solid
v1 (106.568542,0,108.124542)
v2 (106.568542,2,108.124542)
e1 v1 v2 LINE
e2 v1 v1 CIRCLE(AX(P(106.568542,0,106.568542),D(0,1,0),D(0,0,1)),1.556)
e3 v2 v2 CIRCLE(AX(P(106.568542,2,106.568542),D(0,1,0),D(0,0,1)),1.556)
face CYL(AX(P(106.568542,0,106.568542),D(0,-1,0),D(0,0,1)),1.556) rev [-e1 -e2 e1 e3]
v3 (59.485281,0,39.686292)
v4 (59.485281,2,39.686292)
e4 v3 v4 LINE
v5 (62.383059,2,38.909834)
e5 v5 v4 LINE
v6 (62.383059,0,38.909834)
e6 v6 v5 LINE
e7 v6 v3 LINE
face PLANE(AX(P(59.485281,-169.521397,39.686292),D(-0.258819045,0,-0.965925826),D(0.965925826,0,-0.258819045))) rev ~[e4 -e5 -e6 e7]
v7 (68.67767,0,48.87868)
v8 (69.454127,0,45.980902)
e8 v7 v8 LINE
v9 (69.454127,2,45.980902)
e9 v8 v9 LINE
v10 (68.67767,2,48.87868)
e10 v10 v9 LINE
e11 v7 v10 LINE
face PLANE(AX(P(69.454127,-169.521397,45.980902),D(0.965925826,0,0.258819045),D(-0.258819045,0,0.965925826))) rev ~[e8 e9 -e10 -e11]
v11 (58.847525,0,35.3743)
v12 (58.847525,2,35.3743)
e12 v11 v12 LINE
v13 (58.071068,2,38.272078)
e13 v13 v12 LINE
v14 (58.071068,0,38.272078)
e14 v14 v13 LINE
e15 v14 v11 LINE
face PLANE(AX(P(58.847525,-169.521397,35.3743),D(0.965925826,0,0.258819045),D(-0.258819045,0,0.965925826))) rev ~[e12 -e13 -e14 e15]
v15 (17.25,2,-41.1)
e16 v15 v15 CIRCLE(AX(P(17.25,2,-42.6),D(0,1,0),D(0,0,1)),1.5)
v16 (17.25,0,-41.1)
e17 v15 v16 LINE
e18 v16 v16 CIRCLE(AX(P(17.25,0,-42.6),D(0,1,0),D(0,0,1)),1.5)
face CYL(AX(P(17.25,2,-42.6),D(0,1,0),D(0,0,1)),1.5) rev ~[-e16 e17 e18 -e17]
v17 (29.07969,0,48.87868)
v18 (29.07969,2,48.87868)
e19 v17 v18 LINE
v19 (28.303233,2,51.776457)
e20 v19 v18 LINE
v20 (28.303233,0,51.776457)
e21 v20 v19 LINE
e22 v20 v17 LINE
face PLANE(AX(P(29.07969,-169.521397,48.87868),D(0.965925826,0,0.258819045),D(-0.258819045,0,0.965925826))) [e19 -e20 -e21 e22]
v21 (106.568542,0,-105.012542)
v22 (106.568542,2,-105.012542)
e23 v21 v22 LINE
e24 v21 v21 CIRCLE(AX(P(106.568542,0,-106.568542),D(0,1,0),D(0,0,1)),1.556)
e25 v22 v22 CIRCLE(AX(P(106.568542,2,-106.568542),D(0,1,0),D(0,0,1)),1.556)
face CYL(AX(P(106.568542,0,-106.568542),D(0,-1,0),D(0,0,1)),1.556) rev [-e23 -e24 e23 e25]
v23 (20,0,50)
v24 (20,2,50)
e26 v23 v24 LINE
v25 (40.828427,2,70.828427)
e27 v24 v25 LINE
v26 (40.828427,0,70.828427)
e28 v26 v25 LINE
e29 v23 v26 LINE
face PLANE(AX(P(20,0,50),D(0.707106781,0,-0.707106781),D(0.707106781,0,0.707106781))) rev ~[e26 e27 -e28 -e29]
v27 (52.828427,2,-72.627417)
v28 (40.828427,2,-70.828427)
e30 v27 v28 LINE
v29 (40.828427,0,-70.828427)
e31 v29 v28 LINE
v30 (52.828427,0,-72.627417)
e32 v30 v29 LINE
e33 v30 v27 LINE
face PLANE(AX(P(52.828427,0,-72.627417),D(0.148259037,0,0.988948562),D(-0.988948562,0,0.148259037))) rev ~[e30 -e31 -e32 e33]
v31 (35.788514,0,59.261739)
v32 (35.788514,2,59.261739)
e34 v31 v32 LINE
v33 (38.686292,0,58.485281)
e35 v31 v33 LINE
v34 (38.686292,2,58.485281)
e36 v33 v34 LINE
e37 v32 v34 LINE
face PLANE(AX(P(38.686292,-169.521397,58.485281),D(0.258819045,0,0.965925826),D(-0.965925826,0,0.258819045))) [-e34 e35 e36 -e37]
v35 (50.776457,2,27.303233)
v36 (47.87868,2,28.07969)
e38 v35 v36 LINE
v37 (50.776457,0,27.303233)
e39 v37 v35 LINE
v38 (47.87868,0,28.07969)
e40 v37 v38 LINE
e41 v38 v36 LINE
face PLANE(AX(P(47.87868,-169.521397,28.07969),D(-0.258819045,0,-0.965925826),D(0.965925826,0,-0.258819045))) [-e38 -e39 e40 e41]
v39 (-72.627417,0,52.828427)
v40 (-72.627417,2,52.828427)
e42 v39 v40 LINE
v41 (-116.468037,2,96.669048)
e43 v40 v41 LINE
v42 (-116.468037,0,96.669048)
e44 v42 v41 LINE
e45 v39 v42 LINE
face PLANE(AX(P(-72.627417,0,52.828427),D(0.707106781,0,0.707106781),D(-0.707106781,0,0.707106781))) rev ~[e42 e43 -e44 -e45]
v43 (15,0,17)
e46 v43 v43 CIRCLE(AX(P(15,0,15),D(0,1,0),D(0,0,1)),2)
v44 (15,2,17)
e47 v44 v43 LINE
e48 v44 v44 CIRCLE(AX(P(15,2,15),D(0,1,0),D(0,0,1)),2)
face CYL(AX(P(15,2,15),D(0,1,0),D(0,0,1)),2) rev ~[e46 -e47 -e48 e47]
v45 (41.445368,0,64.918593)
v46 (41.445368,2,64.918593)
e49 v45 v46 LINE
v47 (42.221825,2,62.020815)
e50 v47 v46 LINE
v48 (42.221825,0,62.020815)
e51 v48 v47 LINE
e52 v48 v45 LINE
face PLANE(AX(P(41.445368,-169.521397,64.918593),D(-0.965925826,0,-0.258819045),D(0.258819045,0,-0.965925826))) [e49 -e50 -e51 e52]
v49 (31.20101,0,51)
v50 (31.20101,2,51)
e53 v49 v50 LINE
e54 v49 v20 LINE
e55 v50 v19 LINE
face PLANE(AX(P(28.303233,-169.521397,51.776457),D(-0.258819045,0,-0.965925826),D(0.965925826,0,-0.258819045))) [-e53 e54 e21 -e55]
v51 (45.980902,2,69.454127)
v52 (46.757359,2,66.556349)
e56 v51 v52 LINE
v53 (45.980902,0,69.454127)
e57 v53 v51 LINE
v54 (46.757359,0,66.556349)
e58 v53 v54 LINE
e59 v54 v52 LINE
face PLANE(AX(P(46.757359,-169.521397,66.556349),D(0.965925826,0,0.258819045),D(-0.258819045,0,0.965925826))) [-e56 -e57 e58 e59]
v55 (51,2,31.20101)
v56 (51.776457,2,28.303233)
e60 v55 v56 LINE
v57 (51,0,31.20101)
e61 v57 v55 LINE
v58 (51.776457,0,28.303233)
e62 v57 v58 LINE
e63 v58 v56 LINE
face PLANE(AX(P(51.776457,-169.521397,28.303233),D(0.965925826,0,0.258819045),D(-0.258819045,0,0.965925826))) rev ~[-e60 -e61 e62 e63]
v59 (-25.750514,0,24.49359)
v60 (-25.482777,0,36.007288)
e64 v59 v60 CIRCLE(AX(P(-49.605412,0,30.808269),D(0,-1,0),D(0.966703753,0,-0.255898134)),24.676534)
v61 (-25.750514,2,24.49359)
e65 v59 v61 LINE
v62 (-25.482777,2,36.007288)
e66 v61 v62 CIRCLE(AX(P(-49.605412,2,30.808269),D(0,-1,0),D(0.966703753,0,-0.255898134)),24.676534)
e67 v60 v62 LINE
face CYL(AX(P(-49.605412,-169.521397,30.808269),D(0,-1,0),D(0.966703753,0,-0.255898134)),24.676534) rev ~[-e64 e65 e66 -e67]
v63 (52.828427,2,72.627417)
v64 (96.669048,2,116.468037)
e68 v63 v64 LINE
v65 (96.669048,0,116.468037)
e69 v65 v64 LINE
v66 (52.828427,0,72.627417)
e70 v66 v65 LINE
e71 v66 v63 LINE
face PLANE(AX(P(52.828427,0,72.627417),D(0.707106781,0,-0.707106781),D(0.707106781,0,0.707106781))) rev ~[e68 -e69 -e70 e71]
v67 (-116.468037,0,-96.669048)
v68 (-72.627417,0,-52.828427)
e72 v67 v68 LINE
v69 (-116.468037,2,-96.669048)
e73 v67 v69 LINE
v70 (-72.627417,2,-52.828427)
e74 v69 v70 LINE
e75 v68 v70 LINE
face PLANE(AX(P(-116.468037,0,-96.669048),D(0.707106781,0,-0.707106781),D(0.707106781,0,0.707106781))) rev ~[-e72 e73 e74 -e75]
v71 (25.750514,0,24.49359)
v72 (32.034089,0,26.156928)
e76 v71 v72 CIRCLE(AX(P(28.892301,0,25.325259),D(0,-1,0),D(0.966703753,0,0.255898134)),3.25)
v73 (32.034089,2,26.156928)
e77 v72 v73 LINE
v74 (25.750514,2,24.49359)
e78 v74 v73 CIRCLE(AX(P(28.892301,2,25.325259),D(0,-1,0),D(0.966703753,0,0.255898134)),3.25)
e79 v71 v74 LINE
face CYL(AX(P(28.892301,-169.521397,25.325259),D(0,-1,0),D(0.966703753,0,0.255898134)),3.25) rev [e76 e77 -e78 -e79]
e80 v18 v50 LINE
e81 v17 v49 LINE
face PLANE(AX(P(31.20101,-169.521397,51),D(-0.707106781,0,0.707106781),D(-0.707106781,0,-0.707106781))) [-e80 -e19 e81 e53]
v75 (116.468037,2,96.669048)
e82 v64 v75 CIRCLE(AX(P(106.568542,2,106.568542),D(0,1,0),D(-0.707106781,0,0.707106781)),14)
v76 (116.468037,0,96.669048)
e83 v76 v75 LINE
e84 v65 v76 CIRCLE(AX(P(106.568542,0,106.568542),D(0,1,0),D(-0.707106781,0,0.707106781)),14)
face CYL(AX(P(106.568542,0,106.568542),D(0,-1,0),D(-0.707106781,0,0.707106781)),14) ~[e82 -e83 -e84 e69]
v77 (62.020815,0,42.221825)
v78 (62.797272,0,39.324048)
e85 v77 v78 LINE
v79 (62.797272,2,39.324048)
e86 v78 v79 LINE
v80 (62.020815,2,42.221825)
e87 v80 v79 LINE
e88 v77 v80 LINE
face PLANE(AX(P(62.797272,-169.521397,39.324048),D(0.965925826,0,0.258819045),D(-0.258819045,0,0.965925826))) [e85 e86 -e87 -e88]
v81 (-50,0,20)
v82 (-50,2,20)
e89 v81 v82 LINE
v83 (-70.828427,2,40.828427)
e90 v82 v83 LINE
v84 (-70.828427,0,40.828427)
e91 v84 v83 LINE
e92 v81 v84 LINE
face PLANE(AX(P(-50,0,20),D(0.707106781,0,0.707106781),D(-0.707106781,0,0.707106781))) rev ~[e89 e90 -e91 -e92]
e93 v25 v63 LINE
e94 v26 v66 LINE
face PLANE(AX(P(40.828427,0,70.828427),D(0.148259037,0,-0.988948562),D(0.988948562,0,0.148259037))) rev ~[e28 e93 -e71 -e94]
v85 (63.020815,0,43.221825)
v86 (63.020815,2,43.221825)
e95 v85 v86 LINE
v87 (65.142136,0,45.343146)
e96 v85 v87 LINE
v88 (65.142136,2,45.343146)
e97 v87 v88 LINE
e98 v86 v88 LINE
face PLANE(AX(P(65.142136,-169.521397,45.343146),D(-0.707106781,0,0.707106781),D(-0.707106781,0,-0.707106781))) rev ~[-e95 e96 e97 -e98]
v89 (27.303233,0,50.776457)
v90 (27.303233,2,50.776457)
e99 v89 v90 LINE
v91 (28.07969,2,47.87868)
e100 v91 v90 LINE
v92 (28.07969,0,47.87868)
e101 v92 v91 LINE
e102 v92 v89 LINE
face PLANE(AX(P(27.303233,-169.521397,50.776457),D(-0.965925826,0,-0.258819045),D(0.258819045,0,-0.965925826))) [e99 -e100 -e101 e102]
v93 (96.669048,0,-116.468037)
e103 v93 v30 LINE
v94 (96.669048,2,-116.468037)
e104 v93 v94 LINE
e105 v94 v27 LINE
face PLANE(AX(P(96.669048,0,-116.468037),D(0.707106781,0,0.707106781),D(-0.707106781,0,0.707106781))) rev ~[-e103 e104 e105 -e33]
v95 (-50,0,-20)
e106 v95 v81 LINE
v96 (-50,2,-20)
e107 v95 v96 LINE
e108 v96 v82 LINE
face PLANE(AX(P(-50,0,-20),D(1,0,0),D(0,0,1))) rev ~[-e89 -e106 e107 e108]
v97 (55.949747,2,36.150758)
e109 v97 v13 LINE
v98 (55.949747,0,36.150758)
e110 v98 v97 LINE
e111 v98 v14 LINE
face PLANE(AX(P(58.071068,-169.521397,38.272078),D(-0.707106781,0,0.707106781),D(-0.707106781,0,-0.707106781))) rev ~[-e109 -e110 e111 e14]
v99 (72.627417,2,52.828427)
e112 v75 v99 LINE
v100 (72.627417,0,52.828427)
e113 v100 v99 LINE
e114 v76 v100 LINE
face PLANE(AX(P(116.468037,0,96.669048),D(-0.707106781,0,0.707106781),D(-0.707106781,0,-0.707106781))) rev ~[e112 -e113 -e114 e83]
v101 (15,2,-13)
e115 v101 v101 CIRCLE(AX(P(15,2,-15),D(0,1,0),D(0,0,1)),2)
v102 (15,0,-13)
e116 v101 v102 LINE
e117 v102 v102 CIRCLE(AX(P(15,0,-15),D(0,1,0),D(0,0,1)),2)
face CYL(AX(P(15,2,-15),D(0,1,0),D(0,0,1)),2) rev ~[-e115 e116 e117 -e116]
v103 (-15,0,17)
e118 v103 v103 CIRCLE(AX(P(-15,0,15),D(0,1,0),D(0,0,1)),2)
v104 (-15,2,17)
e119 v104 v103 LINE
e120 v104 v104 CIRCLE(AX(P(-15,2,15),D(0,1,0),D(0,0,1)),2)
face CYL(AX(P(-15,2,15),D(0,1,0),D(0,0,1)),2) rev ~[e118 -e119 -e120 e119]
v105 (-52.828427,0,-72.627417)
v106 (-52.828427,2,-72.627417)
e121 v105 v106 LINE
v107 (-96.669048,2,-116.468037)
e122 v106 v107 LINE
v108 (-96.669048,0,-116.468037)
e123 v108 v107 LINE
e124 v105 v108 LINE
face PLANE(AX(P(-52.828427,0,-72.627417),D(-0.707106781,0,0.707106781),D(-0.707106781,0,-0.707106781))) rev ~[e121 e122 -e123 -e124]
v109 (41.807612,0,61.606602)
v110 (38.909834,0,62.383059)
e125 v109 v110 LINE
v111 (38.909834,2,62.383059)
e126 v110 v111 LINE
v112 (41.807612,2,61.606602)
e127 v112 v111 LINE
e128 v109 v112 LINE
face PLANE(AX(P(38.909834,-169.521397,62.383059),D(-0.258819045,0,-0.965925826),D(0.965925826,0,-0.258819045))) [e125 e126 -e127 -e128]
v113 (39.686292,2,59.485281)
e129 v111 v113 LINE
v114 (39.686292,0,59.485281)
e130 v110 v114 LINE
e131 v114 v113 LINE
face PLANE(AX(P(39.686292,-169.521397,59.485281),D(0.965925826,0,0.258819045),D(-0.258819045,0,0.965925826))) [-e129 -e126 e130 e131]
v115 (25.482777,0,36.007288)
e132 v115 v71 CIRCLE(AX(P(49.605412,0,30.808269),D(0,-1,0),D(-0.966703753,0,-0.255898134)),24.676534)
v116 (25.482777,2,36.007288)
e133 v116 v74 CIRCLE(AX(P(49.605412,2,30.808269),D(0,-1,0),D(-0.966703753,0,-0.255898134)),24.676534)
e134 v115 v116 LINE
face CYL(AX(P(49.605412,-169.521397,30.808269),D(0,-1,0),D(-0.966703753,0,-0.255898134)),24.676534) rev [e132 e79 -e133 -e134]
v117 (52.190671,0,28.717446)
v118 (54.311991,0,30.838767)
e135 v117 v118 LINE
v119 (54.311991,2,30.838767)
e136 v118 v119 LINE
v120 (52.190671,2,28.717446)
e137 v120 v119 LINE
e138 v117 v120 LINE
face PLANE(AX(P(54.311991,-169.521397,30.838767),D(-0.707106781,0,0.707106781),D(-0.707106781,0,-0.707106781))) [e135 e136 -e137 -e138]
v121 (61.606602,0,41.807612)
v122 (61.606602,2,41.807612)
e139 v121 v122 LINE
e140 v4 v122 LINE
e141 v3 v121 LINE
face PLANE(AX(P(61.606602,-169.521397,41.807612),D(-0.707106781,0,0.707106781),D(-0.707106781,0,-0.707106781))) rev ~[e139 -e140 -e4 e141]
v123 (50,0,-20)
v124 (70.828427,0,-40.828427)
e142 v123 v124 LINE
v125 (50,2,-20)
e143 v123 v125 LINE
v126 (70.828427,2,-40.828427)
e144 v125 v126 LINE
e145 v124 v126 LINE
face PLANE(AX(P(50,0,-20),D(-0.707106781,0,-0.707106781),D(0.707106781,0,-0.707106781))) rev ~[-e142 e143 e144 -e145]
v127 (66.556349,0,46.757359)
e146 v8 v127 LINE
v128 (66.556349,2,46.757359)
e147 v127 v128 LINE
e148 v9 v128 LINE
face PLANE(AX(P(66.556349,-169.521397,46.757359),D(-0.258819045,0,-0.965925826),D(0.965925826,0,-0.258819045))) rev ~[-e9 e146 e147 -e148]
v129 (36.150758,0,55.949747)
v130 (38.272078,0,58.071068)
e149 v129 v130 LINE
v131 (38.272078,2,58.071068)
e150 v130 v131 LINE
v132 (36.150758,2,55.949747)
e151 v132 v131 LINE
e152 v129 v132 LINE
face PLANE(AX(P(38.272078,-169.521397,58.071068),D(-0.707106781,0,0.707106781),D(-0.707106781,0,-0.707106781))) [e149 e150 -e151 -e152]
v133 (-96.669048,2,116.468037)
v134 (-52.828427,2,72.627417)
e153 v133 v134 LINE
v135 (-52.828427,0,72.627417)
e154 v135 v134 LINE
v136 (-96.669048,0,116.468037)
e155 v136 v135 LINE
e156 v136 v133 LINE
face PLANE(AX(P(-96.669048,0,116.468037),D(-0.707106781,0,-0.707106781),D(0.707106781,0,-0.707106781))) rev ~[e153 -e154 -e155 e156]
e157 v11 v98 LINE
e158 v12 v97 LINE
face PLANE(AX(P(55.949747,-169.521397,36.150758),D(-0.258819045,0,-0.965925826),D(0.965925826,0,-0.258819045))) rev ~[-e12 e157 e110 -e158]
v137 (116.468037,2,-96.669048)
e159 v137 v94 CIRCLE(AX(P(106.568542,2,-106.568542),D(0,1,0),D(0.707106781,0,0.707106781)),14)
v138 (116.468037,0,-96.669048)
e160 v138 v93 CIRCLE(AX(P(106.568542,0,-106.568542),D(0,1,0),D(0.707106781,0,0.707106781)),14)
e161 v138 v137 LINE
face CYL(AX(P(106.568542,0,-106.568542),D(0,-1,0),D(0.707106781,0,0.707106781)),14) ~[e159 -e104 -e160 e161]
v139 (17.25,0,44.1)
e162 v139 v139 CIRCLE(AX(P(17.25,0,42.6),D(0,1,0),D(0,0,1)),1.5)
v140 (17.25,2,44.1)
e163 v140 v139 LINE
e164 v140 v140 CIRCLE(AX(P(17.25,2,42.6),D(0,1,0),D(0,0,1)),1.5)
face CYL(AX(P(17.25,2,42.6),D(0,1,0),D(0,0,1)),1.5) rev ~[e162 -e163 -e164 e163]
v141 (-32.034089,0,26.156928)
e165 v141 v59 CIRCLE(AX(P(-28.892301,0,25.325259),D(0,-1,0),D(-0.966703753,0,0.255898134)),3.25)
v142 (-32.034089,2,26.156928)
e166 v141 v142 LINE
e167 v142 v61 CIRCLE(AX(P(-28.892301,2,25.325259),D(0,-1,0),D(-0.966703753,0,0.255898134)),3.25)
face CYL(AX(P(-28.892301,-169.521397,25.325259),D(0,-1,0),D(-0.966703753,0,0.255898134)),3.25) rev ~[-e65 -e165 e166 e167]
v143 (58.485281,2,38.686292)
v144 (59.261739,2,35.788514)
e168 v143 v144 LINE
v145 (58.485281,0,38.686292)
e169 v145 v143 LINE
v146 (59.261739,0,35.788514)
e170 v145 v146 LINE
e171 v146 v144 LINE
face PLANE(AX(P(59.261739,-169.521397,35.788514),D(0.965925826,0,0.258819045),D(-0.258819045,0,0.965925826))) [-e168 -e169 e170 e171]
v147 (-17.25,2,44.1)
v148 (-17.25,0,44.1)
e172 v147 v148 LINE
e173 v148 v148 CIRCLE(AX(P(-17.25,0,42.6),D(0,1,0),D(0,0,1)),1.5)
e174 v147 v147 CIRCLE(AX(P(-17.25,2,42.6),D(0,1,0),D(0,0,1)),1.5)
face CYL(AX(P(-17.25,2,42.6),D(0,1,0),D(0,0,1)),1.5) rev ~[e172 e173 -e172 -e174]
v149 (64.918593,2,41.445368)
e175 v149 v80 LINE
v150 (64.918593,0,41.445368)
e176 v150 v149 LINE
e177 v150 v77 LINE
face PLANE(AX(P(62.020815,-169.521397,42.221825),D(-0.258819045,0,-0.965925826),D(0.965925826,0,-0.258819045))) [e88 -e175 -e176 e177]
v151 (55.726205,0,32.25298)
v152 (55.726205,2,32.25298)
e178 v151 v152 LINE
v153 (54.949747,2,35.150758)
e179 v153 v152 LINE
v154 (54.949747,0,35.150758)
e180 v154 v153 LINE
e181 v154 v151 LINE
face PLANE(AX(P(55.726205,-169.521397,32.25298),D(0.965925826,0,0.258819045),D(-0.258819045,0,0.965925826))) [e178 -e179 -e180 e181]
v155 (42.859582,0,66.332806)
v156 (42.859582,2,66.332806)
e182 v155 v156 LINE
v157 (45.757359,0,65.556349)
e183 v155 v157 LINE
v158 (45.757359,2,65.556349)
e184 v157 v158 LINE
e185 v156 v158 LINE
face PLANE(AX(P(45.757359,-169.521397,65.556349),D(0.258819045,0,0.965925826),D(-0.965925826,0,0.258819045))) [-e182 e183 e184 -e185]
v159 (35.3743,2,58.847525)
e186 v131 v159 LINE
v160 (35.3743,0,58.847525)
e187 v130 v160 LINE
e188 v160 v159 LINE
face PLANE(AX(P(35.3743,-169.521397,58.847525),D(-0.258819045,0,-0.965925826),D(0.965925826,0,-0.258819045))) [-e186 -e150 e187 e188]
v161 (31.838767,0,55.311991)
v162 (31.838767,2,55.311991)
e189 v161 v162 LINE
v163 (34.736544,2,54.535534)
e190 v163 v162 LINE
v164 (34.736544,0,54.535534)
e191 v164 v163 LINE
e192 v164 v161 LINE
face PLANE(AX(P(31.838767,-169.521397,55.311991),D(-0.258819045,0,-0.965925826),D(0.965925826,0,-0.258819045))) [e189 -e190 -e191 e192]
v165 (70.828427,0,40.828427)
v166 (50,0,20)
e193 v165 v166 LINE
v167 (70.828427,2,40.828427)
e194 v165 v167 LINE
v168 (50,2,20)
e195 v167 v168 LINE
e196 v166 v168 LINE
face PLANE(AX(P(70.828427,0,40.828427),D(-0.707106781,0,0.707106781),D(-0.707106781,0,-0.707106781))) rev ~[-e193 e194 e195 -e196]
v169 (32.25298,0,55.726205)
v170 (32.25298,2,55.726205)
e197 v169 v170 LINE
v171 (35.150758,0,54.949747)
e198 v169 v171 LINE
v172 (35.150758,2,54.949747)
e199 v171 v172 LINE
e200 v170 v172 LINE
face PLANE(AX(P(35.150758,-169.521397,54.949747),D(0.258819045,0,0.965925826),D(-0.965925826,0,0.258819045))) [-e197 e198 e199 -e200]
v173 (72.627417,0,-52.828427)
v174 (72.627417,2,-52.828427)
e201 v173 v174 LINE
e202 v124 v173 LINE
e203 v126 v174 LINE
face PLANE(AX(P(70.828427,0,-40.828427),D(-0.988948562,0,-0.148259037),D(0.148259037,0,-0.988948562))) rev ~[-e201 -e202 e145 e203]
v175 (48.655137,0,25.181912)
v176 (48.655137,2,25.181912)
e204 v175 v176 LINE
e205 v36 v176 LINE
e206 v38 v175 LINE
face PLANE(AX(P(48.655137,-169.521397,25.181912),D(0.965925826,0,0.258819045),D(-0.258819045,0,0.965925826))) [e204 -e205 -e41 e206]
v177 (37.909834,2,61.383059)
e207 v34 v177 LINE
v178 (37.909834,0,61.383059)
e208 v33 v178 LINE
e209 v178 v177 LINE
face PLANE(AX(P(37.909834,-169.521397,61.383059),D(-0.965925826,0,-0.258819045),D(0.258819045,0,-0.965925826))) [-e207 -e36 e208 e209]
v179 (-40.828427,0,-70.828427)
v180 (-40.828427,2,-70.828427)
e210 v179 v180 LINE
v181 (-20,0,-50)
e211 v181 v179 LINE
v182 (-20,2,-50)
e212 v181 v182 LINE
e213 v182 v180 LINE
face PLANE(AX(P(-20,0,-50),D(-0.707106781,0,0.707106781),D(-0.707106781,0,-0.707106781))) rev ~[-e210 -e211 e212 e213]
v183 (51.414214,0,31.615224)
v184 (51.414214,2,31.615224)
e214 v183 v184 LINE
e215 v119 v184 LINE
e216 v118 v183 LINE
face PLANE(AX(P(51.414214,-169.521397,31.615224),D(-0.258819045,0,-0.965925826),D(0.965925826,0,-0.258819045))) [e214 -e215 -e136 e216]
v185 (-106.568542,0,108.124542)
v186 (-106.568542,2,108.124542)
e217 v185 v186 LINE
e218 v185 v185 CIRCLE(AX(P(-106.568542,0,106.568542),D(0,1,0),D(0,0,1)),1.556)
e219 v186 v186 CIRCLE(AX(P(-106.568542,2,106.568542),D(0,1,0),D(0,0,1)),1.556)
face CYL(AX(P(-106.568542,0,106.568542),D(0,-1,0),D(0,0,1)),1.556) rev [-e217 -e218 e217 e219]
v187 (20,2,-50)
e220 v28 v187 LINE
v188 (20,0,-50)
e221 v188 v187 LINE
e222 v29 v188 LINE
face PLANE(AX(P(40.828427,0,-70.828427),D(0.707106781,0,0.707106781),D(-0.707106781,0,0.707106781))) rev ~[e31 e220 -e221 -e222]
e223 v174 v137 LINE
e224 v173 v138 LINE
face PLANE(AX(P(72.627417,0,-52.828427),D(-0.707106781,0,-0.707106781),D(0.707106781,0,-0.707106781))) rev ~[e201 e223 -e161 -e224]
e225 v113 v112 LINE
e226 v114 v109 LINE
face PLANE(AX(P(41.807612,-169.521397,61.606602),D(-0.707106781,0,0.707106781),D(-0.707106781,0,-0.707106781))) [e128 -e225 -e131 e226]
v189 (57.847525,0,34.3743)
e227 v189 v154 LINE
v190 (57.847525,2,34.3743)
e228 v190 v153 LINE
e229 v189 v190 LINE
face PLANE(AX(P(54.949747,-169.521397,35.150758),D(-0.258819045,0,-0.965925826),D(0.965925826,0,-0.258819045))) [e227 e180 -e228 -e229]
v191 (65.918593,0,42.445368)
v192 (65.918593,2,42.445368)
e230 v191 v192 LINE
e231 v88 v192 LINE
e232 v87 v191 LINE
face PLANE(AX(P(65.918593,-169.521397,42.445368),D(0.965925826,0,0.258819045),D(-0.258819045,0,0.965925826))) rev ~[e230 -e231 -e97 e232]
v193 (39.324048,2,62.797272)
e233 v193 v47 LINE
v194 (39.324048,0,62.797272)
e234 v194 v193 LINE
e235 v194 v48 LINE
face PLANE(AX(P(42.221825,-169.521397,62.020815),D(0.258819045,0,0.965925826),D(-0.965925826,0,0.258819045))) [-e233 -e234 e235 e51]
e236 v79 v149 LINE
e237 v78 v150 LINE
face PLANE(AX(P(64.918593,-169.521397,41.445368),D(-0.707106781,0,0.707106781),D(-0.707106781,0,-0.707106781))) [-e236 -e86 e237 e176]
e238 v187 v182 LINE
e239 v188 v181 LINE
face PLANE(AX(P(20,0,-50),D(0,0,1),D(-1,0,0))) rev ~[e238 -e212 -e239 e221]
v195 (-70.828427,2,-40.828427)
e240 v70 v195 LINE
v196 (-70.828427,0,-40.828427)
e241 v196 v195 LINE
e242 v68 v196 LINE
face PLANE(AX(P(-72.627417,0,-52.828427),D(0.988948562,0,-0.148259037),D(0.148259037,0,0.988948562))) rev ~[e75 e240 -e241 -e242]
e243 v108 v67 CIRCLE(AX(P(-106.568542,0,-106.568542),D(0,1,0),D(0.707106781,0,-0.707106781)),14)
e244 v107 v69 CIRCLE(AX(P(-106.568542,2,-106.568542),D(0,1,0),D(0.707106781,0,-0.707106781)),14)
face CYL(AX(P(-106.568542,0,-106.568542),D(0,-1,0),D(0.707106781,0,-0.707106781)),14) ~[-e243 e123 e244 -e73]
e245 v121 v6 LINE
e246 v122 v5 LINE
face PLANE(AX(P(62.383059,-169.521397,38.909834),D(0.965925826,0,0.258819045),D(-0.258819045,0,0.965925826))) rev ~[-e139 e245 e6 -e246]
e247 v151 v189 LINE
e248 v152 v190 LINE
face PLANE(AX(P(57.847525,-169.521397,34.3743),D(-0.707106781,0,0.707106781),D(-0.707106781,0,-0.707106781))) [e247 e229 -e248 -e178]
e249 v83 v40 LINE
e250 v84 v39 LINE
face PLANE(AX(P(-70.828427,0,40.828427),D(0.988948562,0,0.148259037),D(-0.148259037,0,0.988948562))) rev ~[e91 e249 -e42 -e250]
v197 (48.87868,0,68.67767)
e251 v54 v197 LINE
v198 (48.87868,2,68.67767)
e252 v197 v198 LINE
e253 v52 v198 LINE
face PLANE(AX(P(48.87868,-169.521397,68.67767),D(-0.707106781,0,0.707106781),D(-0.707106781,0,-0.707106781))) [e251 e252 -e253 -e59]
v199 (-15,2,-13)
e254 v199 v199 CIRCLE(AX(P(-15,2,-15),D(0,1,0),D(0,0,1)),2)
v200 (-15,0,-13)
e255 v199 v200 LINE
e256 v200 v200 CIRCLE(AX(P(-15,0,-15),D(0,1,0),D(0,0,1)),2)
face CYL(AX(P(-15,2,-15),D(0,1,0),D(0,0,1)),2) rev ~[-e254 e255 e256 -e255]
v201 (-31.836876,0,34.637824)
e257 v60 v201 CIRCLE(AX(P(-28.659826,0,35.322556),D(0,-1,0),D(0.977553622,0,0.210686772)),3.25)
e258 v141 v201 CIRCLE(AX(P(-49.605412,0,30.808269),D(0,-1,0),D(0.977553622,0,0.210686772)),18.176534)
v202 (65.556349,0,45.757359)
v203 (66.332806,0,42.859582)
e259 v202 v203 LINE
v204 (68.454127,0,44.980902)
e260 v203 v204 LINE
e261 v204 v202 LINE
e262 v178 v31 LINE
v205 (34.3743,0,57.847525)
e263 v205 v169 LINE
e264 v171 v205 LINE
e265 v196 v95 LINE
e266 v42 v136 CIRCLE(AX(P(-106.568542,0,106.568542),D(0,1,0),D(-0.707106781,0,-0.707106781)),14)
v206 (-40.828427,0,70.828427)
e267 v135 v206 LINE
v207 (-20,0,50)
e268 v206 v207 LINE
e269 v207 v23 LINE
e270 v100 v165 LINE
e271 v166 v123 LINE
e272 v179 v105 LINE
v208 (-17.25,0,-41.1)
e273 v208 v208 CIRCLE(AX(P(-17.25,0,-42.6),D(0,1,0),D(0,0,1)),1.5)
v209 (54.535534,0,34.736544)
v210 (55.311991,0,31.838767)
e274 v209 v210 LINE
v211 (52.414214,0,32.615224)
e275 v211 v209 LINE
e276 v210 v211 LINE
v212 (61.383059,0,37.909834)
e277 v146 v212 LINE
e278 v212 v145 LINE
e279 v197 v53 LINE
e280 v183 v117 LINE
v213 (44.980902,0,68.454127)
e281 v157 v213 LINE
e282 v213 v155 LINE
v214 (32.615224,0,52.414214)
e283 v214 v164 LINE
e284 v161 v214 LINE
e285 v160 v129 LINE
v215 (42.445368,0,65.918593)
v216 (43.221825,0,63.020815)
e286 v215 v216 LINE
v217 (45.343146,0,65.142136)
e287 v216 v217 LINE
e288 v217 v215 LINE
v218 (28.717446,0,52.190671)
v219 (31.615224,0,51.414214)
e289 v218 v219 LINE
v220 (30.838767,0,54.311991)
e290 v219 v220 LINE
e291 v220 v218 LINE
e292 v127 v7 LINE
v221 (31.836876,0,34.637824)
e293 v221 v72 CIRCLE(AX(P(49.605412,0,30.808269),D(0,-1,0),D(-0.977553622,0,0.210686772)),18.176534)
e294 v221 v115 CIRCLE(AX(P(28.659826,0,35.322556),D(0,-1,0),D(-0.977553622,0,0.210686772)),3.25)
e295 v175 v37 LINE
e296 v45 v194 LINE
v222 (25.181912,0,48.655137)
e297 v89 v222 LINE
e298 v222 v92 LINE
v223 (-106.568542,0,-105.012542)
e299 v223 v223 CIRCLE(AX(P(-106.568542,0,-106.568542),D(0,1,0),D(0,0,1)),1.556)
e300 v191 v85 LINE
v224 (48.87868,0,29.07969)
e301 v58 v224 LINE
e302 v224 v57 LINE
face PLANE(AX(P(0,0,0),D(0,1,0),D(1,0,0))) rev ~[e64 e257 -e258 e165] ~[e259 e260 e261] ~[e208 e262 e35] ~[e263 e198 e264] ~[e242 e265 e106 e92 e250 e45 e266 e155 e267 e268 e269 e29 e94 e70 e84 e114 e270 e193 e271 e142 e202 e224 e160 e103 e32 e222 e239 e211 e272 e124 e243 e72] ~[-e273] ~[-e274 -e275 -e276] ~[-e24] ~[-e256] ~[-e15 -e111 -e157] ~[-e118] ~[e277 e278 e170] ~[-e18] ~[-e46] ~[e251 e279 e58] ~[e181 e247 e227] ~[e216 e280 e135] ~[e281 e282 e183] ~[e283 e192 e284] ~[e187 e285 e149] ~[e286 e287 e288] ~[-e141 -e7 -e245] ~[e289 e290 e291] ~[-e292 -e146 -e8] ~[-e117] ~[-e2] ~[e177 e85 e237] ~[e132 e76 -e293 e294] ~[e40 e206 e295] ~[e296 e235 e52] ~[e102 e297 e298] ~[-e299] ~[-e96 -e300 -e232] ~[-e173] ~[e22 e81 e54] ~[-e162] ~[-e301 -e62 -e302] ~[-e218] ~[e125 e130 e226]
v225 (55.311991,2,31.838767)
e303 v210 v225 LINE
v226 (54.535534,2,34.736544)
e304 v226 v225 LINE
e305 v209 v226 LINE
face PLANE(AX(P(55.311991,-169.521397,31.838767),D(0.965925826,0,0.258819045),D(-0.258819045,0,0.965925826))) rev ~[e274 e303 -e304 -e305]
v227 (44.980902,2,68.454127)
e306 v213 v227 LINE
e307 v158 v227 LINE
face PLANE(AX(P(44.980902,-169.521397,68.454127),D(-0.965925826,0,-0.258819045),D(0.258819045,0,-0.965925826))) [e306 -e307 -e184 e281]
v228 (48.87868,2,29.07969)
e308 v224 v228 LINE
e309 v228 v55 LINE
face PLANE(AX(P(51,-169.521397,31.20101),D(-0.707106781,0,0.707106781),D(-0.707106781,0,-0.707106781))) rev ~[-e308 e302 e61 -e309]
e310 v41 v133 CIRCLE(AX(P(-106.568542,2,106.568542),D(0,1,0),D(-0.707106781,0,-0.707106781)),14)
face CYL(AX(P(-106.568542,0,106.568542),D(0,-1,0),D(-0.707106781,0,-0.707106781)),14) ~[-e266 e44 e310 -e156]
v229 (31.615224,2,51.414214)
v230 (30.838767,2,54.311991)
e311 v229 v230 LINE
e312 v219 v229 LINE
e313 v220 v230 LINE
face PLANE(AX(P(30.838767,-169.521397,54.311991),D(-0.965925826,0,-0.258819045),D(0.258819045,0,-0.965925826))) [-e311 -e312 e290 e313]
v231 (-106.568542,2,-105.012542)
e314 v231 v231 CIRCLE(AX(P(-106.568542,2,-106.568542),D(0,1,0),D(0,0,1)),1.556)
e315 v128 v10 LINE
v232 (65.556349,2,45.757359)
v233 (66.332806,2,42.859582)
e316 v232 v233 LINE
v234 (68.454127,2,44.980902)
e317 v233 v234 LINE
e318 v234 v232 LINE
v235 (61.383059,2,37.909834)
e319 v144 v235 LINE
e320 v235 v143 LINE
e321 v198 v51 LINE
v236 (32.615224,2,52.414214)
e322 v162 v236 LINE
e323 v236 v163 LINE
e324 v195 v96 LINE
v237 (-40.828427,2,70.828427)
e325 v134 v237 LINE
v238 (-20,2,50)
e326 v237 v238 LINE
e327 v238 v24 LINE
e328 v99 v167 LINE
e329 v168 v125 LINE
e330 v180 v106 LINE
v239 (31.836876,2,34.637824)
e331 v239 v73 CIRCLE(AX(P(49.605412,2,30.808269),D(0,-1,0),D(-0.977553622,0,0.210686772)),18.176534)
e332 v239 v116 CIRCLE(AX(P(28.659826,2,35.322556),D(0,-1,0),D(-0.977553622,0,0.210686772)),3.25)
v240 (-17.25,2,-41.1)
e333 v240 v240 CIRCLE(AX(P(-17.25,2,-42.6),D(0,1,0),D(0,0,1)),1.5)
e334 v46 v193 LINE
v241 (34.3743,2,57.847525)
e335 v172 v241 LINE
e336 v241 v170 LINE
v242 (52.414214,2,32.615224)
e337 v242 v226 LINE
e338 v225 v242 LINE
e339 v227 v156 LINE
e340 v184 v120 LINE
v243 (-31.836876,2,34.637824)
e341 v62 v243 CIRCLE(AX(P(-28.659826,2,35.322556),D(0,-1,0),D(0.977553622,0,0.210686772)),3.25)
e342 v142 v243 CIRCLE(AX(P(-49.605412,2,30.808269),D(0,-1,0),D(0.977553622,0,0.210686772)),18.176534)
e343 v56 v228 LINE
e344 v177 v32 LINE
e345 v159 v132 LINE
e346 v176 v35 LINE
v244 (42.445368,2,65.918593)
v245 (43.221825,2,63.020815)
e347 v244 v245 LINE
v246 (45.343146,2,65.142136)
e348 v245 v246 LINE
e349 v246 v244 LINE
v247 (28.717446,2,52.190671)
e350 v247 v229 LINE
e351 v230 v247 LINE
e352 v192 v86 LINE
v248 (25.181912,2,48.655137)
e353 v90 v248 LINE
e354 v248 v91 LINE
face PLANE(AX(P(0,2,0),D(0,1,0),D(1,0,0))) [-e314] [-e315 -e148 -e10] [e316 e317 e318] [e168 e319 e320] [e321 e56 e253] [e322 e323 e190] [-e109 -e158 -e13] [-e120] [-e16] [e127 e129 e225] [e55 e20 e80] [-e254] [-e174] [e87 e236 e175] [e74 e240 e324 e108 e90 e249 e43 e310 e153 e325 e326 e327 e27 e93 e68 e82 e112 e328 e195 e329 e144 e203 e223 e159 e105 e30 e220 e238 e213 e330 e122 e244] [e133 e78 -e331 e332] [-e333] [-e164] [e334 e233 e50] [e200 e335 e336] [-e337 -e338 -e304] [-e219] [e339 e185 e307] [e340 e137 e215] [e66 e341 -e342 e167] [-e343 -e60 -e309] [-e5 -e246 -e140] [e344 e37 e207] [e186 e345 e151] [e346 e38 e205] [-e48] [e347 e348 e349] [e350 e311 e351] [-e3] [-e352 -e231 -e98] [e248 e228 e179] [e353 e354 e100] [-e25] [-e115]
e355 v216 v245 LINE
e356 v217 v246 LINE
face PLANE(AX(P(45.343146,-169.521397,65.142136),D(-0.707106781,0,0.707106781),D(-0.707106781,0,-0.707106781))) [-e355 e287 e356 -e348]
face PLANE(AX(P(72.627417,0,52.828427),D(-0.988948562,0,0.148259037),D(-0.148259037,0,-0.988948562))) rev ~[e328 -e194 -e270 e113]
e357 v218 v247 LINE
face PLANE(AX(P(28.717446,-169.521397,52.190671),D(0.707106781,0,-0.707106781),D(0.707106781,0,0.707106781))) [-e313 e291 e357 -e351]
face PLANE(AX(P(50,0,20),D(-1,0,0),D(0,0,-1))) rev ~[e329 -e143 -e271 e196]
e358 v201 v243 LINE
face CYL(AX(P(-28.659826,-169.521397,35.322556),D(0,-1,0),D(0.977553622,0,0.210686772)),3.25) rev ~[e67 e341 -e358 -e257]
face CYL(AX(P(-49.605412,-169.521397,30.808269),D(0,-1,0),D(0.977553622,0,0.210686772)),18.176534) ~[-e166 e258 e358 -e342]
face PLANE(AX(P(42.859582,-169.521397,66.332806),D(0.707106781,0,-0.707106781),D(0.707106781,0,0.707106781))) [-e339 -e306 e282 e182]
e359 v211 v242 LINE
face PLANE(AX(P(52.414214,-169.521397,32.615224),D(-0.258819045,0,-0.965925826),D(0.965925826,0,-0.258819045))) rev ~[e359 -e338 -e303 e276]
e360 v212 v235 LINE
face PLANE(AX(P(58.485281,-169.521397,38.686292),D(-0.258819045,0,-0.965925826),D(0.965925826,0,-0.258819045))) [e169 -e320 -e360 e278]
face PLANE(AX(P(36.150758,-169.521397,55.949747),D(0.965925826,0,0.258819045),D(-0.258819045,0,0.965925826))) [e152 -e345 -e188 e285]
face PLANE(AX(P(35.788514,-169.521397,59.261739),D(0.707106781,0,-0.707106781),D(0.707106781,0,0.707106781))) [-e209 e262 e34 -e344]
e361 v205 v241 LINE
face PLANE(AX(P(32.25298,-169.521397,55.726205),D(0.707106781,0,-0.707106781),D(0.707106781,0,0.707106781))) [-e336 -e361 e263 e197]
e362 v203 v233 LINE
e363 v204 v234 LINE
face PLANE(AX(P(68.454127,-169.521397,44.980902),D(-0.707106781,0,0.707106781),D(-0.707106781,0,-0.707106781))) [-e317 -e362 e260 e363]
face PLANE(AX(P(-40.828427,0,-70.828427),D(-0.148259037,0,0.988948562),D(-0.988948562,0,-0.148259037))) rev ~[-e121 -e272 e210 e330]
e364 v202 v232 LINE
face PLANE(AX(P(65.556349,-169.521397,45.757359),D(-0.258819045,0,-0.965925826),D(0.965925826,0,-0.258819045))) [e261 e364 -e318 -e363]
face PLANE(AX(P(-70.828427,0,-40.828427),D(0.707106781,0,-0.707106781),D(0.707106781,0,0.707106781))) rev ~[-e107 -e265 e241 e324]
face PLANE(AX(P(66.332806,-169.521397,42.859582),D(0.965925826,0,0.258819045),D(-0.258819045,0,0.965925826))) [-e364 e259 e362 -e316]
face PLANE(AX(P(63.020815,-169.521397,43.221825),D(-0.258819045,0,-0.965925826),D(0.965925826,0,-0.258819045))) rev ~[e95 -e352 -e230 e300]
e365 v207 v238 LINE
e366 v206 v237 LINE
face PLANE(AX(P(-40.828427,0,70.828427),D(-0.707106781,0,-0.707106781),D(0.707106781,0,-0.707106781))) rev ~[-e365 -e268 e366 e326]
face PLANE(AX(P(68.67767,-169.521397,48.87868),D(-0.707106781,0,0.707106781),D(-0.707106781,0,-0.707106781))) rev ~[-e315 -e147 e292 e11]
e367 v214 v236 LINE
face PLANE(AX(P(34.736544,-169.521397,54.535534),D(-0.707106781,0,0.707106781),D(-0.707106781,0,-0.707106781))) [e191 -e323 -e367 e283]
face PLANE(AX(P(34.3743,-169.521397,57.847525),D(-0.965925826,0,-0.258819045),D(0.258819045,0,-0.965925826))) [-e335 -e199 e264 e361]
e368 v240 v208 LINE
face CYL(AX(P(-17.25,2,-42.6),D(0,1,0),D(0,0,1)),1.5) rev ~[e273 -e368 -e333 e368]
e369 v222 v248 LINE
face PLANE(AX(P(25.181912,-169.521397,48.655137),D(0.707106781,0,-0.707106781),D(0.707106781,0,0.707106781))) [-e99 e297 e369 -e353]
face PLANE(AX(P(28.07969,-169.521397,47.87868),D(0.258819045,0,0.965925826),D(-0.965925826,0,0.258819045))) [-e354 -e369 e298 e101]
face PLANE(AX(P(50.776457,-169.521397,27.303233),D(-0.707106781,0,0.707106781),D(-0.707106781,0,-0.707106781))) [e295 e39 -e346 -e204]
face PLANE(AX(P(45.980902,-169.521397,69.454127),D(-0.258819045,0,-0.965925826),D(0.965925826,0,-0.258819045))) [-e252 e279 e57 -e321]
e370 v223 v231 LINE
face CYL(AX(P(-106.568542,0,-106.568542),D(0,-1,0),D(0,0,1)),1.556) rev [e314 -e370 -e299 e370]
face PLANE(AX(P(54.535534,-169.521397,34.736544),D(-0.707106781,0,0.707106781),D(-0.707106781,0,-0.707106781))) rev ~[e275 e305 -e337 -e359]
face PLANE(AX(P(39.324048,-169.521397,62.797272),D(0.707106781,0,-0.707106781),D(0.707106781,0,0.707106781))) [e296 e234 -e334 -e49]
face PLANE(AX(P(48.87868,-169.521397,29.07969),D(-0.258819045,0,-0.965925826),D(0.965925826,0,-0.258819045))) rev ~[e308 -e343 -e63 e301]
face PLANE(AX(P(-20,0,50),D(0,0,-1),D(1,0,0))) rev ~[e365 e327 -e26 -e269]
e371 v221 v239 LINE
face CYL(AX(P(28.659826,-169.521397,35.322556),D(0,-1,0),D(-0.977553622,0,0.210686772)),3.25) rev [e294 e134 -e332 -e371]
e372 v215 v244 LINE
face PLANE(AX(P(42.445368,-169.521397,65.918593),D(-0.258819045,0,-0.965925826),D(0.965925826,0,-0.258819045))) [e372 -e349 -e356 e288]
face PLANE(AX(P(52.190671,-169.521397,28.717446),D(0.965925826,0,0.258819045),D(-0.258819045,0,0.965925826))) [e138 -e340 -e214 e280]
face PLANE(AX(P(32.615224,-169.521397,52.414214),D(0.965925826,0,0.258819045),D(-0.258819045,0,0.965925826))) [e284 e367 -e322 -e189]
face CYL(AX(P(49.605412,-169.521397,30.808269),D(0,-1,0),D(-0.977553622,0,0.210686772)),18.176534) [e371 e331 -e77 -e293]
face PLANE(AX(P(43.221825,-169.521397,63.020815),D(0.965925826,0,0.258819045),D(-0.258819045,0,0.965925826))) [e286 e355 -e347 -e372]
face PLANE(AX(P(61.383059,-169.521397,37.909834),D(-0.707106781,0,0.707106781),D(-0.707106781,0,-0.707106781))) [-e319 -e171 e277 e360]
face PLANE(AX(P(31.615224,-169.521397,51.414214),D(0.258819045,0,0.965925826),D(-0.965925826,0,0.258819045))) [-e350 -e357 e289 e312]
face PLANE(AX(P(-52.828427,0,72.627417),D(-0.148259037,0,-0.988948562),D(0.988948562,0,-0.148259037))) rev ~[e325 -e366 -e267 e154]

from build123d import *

# Parameters (mm, degrees)
SKETCH1_R               = 1.556
BOSS_EXTRUDE1_DEPTH     = 2
SKETCH3_R               = 2
SKETCH3_R_2             = 1.5
CUT_EXTRUDE1_DEPTH      = 10
CUT_EXTRUDE2_DEPTH      = 171.521397129
CUT_EXTRUDE2_DEPTH_BACK = 171.521397129
CUT_EXTRUDE3_DEPTH      = 171.521397129
CUT_EXTRUDE3_DEPTH_BACK = 171.521397129


with BuildPart() as part:
    # Sketch1 → Boss-Extrude1 (new body)
    with BuildSketch(Plane(origin=(0, 0, 0), x_dir=(1, 0, 0), z_dir=(0, 1, 0))):
        with BuildLine():
            Line((-70.828427125, 40.828427125), (-50, 20))
            Line((-50, 20), (-50, -20))
            Line((-50, -20), (-70.828427125, -40.828427125))
            Line((-70.828427125, -40.828427125), (-72.627416998, -52.828427125))
            Line((-72.627416998, -52.828427125), (-116.468037432, -96.669047558))
            ThreePointArc((-116.468037432, -96.669047558), (-116.468037432, -116.468037432), (-96.669047558, -116.468037432))
            Line((-96.669047558, -116.468037432), (-52.828427125, -72.627416998))
            Line((-52.828427125, -72.627416998), (-40.828427125, -70.828427125))
            Line((-40.828427125, -70.828427125), (-20, -50))
            Line((-20, -50), (20, -50))
            Line((20, -50), (40.828427125, -70.828427125))
            Line((40.828427125, -70.828427125), (52.828427125, -72.627416998))
            Line((52.828427125, -72.627416998), (96.669047558, -116.468037432))
            ThreePointArc((96.669047558, -116.468037432), (116.468037432, -116.468037432), (116.468037432, -96.669047558))
            Line((116.468037432, -96.669047558), (72.627416998, -52.828427125))
            Line((72.627416998, -52.828427125), (70.828427125, -40.828427125))
            Line((70.828427125, -40.828427125), (50, -20))
            Line((50, -20), (50, 20))
            Line((50, 20), (70.828427125, 40.828427125))
            Line((70.828427125, 40.828427125), (72.627416998, 52.828427125))
            Line((72.627416998, 52.828427125), (116.468037432, 96.669047558))
            ThreePointArc((116.468037432, 96.669047558), (116.468037432, 116.468037432), (96.669047558, 116.468037432))
            Line((96.669047558, 116.468037432), (52.828427125, 72.627416998))
            Line((52.828427125, 72.627416998), (40.828427125, 70.828427125))
            Line((40.828427125, 70.828427125), (20, 50))
            Line((20, 50), (-20, 50))
            Line((-20, 50), (-40.828427125, 70.828427125))
            Line((-40.828427125, 70.828427125), (-52.828427125, 72.627416998))
            Line((-52.828427125, 72.627416998), (-96.669047558, 116.468037432))
            ThreePointArc((-96.669047558, 116.468037432), (-116.468037432, 116.468037432), (-116.468037432, 96.669047558))
            Line((-116.468037432, 96.669047558), (-72.627416998, 52.828427125))
            Line((-72.627416998, 52.828427125), (-70.828427125, 40.828427125))
        make_face()
        with Locations(Location((-106.568542495, 106.568542495, 0), (0, 0, 270))):
            Circle(SKETCH1_R, mode=Mode.SUBTRACT)
        with Locations(Location((106.568542495, 106.568542495, 0), (0, 0, 270))):
            Circle(SKETCH1_R, mode=Mode.SUBTRACT)
        with Locations(Location((-106.568542495, -106.568542495, 0), (0, 0, 270))):
            Circle(SKETCH1_R, mode=Mode.SUBTRACT)
        with Locations(Location((106.568542495, -106.568542495, 0), (0, 0, 270))):
            Circle(SKETCH1_R, mode=Mode.SUBTRACT)
    extrude(amount=BOSS_EXTRUDE1_DEPTH)

    # Sketch3 → Cut-Extrude1 (cut)
    with BuildSketch(Plane(origin=(0, 2, 0), x_dir=(1, 0, 0), z_dir=(0, 1, 0))):
        with Locations(Location((-15, 15, 0), (0, 0, 270))):
            Circle(SKETCH3_R)
        with Locations(Location((-17.25, 42.6, 0), (0, 0, 270))):
            Circle(SKETCH3_R_2)
        with Locations(Location((15, 15, 0), (0, 0, 270))):
            Circle(SKETCH3_R)
        with Locations(Location((17.25, 42.6, 0), (0, 0, 270))):
            Circle(SKETCH3_R_2)
        with Locations(Location((15, -15, 0), (0, 0, 270))):
            Circle(SKETCH3_R)
        with Locations(Location((-15, -15, 0), (0, 0, 270))):
            Circle(SKETCH3_R)
        with Locations(Location((17.25, -42.6, 0), (0, 0, 270))):
            Circle(SKETCH3_R_2)
        with Locations(Location((-17.25, -42.6, 0), (0, 0, 270))):
            Circle(SKETCH3_R_2)
    extrude(amount=-CUT_EXTRUDE1_DEPTH, mode=Mode.SUBTRACT)

    # Sketch4 → Cut-Extrude2 (cut, two sides: drawn at the far end of the back side and taken through both)
    with BuildSketch(Plane(origin=(0, 2, 0), x_dir=(1, 0, 0), z_dir=(0, 1, 0)).offset(-CUT_EXTRUDE2_DEPTH_BACK)):
        with BuildLine():
            ThreePointArc((25.75051417, -24.493590073), (24.93554726, -30.234601125), (25.482776992, -36.007288418))
            ThreePointArc((25.482776992, -36.007288418), (29.344558273, -38.499605681), (31.836875536, -34.637824401))
            ThreePointArc((31.836875536, -34.637824401), (31.433790571, -30.385709941), (32.034088562, -26.156927943))
            ThreePointArc((32.034088562, -26.156927943), (29.723970301, -22.183471812), (25.75051417, -24.493590073))
        make_face()
        with BuildLine():
            ThreePointArc((-25.75051417, -24.493590073), (-24.93554726, -30.234601125), (-25.482776992, -36.007288418))
            ThreePointArc((-25.482776992, -36.007288418), (-29.344558273, -38.499605681), (-31.836875536, -34.637824401))
            ThreePointArc((-31.836875536, -34.637824401), (-31.433790571, -30.385709941), (-32.034088562, -26.156927943))
            ThreePointArc((-32.034088562, -26.156927943), (-29.723970301, -22.183471812), (-25.75051417, -24.493590073))
        make_face()
    extrude(amount=CUT_EXTRUDE2_DEPTH + CUT_EXTRUDE2_DEPTH_BACK, mode=Mode.SUBTRACT)

    # Sketch5 → Cut-Extrude3 (cut, two sides: drawn at the far end of the back side and taken through both)
    with BuildSketch(Plane(origin=(0, 2, 0), x_dir=(1, 0, 0), z_dir=(0, 1, 0)).offset(-CUT_EXTRUDE3_DEPTH_BACK)):
        Polygon((25.181912304, -48.655136792), (27.303232648, -50.776457135), (28.079689783, -47.878679656), align=None)
        Polygon((29.079689783, -48.878679656), (28.303232648, -51.776457135), (31.201010127, -51), align=None)
        Polygon((28.71744621, -52.190670698), (30.838766554, -54.311991041), (31.615223689, -51.414213562), align=None)
        Polygon((32.615223689, -52.414213562), (31.838766554, -55.311991041), (34.736544033, -54.535533906), align=None)
        Polygon((32.252980116, -55.726204604), (34.37430046, -57.847524947), (35.150757595, -54.949747468), align=None)
        Polygon((36.150757595, -55.949747468), (35.37430046, -58.847524947), (38.272077939, -58.071067812), align=None)
        Polygon((35.788514022, -59.26173851), (37.909834366, -61.383058853), (38.686291501, -58.485281374), align=None)
        Polygon((39.686291501, -59.485281374), (38.909834366, -62.383058853), (41.807611845, -61.606601718), align=None)
        Polygon((39.324047928, -62.797272415), (41.445368272, -64.918592759), (42.221825407, -62.02081528), align=None)
        Polygon((43.221825407, -63.02081528), (42.445368272, -65.918592759), (45.343145751, -65.142135624), align=None)
        Polygon((42.859581834, -66.332806321), (44.980902178, -68.454126665), (45.757359313, -65.556349186), align=None)
        Polygon((46.757359313, -66.556349186), (45.980902178, -69.454126665), (48.878679656, -68.67766953), align=None)
        Polygon((68.67766953, -48.878679656), (66.556349186, -46.757359313), (69.454126665, -45.980902178), align=None)
        Polygon((65.556349186, -45.757359313), (68.454126665, -44.980902178), (66.332806321, -42.859581834), align=None)
        Polygon((65.142135624, -45.343145751), (63.02081528, -43.221825407), (65.918592759, -42.445368272), align=None)
        Polygon((62.02081528, -42.221825407), (64.918592759, -41.445368272), (62.797272415, -39.324047928), align=None)
        Polygon((61.606601718, -41.807611845), (59.485281374, -39.686291501), (62.383058853, -38.909834366), align=None)
        Polygon((58.485281374, -38.686291501), (61.383058853, -37.909834366), (59.26173851, -35.788514022), align=None)
        Polygon((58.071067812, -38.272077939), (55.949747468, -36.150757595), (58.847524947, -35.37430046), align=None)
        Polygon((54.949747468, -35.150757595), (57.847524947, -34.37430046), (55.726204604, -32.252980116), align=None)
        Polygon((54.535533906, -34.736544033), (52.414213562, -32.615223689), (55.311991041, -31.838766554), align=None)
        Polygon((51.414213562, -31.615223689), (54.311991041, -30.838766554), (52.190670698, -28.71744621), align=None)
        Polygon((51, -31.201010127), (48.878679656, -29.079689783), (51.776457135, -28.303232648), align=None)
        Polygon((47.878679656, -28.079689783), (50.776457135, -27.303232648), (48.655136792, -25.181912304), align=None)
    extrude(amount=CUT_EXTRUDE3_DEPTH + CUT_EXTRUDE3_DEPTH_BACK, mode=Mode.SUBTRACT)


solid = part.part
